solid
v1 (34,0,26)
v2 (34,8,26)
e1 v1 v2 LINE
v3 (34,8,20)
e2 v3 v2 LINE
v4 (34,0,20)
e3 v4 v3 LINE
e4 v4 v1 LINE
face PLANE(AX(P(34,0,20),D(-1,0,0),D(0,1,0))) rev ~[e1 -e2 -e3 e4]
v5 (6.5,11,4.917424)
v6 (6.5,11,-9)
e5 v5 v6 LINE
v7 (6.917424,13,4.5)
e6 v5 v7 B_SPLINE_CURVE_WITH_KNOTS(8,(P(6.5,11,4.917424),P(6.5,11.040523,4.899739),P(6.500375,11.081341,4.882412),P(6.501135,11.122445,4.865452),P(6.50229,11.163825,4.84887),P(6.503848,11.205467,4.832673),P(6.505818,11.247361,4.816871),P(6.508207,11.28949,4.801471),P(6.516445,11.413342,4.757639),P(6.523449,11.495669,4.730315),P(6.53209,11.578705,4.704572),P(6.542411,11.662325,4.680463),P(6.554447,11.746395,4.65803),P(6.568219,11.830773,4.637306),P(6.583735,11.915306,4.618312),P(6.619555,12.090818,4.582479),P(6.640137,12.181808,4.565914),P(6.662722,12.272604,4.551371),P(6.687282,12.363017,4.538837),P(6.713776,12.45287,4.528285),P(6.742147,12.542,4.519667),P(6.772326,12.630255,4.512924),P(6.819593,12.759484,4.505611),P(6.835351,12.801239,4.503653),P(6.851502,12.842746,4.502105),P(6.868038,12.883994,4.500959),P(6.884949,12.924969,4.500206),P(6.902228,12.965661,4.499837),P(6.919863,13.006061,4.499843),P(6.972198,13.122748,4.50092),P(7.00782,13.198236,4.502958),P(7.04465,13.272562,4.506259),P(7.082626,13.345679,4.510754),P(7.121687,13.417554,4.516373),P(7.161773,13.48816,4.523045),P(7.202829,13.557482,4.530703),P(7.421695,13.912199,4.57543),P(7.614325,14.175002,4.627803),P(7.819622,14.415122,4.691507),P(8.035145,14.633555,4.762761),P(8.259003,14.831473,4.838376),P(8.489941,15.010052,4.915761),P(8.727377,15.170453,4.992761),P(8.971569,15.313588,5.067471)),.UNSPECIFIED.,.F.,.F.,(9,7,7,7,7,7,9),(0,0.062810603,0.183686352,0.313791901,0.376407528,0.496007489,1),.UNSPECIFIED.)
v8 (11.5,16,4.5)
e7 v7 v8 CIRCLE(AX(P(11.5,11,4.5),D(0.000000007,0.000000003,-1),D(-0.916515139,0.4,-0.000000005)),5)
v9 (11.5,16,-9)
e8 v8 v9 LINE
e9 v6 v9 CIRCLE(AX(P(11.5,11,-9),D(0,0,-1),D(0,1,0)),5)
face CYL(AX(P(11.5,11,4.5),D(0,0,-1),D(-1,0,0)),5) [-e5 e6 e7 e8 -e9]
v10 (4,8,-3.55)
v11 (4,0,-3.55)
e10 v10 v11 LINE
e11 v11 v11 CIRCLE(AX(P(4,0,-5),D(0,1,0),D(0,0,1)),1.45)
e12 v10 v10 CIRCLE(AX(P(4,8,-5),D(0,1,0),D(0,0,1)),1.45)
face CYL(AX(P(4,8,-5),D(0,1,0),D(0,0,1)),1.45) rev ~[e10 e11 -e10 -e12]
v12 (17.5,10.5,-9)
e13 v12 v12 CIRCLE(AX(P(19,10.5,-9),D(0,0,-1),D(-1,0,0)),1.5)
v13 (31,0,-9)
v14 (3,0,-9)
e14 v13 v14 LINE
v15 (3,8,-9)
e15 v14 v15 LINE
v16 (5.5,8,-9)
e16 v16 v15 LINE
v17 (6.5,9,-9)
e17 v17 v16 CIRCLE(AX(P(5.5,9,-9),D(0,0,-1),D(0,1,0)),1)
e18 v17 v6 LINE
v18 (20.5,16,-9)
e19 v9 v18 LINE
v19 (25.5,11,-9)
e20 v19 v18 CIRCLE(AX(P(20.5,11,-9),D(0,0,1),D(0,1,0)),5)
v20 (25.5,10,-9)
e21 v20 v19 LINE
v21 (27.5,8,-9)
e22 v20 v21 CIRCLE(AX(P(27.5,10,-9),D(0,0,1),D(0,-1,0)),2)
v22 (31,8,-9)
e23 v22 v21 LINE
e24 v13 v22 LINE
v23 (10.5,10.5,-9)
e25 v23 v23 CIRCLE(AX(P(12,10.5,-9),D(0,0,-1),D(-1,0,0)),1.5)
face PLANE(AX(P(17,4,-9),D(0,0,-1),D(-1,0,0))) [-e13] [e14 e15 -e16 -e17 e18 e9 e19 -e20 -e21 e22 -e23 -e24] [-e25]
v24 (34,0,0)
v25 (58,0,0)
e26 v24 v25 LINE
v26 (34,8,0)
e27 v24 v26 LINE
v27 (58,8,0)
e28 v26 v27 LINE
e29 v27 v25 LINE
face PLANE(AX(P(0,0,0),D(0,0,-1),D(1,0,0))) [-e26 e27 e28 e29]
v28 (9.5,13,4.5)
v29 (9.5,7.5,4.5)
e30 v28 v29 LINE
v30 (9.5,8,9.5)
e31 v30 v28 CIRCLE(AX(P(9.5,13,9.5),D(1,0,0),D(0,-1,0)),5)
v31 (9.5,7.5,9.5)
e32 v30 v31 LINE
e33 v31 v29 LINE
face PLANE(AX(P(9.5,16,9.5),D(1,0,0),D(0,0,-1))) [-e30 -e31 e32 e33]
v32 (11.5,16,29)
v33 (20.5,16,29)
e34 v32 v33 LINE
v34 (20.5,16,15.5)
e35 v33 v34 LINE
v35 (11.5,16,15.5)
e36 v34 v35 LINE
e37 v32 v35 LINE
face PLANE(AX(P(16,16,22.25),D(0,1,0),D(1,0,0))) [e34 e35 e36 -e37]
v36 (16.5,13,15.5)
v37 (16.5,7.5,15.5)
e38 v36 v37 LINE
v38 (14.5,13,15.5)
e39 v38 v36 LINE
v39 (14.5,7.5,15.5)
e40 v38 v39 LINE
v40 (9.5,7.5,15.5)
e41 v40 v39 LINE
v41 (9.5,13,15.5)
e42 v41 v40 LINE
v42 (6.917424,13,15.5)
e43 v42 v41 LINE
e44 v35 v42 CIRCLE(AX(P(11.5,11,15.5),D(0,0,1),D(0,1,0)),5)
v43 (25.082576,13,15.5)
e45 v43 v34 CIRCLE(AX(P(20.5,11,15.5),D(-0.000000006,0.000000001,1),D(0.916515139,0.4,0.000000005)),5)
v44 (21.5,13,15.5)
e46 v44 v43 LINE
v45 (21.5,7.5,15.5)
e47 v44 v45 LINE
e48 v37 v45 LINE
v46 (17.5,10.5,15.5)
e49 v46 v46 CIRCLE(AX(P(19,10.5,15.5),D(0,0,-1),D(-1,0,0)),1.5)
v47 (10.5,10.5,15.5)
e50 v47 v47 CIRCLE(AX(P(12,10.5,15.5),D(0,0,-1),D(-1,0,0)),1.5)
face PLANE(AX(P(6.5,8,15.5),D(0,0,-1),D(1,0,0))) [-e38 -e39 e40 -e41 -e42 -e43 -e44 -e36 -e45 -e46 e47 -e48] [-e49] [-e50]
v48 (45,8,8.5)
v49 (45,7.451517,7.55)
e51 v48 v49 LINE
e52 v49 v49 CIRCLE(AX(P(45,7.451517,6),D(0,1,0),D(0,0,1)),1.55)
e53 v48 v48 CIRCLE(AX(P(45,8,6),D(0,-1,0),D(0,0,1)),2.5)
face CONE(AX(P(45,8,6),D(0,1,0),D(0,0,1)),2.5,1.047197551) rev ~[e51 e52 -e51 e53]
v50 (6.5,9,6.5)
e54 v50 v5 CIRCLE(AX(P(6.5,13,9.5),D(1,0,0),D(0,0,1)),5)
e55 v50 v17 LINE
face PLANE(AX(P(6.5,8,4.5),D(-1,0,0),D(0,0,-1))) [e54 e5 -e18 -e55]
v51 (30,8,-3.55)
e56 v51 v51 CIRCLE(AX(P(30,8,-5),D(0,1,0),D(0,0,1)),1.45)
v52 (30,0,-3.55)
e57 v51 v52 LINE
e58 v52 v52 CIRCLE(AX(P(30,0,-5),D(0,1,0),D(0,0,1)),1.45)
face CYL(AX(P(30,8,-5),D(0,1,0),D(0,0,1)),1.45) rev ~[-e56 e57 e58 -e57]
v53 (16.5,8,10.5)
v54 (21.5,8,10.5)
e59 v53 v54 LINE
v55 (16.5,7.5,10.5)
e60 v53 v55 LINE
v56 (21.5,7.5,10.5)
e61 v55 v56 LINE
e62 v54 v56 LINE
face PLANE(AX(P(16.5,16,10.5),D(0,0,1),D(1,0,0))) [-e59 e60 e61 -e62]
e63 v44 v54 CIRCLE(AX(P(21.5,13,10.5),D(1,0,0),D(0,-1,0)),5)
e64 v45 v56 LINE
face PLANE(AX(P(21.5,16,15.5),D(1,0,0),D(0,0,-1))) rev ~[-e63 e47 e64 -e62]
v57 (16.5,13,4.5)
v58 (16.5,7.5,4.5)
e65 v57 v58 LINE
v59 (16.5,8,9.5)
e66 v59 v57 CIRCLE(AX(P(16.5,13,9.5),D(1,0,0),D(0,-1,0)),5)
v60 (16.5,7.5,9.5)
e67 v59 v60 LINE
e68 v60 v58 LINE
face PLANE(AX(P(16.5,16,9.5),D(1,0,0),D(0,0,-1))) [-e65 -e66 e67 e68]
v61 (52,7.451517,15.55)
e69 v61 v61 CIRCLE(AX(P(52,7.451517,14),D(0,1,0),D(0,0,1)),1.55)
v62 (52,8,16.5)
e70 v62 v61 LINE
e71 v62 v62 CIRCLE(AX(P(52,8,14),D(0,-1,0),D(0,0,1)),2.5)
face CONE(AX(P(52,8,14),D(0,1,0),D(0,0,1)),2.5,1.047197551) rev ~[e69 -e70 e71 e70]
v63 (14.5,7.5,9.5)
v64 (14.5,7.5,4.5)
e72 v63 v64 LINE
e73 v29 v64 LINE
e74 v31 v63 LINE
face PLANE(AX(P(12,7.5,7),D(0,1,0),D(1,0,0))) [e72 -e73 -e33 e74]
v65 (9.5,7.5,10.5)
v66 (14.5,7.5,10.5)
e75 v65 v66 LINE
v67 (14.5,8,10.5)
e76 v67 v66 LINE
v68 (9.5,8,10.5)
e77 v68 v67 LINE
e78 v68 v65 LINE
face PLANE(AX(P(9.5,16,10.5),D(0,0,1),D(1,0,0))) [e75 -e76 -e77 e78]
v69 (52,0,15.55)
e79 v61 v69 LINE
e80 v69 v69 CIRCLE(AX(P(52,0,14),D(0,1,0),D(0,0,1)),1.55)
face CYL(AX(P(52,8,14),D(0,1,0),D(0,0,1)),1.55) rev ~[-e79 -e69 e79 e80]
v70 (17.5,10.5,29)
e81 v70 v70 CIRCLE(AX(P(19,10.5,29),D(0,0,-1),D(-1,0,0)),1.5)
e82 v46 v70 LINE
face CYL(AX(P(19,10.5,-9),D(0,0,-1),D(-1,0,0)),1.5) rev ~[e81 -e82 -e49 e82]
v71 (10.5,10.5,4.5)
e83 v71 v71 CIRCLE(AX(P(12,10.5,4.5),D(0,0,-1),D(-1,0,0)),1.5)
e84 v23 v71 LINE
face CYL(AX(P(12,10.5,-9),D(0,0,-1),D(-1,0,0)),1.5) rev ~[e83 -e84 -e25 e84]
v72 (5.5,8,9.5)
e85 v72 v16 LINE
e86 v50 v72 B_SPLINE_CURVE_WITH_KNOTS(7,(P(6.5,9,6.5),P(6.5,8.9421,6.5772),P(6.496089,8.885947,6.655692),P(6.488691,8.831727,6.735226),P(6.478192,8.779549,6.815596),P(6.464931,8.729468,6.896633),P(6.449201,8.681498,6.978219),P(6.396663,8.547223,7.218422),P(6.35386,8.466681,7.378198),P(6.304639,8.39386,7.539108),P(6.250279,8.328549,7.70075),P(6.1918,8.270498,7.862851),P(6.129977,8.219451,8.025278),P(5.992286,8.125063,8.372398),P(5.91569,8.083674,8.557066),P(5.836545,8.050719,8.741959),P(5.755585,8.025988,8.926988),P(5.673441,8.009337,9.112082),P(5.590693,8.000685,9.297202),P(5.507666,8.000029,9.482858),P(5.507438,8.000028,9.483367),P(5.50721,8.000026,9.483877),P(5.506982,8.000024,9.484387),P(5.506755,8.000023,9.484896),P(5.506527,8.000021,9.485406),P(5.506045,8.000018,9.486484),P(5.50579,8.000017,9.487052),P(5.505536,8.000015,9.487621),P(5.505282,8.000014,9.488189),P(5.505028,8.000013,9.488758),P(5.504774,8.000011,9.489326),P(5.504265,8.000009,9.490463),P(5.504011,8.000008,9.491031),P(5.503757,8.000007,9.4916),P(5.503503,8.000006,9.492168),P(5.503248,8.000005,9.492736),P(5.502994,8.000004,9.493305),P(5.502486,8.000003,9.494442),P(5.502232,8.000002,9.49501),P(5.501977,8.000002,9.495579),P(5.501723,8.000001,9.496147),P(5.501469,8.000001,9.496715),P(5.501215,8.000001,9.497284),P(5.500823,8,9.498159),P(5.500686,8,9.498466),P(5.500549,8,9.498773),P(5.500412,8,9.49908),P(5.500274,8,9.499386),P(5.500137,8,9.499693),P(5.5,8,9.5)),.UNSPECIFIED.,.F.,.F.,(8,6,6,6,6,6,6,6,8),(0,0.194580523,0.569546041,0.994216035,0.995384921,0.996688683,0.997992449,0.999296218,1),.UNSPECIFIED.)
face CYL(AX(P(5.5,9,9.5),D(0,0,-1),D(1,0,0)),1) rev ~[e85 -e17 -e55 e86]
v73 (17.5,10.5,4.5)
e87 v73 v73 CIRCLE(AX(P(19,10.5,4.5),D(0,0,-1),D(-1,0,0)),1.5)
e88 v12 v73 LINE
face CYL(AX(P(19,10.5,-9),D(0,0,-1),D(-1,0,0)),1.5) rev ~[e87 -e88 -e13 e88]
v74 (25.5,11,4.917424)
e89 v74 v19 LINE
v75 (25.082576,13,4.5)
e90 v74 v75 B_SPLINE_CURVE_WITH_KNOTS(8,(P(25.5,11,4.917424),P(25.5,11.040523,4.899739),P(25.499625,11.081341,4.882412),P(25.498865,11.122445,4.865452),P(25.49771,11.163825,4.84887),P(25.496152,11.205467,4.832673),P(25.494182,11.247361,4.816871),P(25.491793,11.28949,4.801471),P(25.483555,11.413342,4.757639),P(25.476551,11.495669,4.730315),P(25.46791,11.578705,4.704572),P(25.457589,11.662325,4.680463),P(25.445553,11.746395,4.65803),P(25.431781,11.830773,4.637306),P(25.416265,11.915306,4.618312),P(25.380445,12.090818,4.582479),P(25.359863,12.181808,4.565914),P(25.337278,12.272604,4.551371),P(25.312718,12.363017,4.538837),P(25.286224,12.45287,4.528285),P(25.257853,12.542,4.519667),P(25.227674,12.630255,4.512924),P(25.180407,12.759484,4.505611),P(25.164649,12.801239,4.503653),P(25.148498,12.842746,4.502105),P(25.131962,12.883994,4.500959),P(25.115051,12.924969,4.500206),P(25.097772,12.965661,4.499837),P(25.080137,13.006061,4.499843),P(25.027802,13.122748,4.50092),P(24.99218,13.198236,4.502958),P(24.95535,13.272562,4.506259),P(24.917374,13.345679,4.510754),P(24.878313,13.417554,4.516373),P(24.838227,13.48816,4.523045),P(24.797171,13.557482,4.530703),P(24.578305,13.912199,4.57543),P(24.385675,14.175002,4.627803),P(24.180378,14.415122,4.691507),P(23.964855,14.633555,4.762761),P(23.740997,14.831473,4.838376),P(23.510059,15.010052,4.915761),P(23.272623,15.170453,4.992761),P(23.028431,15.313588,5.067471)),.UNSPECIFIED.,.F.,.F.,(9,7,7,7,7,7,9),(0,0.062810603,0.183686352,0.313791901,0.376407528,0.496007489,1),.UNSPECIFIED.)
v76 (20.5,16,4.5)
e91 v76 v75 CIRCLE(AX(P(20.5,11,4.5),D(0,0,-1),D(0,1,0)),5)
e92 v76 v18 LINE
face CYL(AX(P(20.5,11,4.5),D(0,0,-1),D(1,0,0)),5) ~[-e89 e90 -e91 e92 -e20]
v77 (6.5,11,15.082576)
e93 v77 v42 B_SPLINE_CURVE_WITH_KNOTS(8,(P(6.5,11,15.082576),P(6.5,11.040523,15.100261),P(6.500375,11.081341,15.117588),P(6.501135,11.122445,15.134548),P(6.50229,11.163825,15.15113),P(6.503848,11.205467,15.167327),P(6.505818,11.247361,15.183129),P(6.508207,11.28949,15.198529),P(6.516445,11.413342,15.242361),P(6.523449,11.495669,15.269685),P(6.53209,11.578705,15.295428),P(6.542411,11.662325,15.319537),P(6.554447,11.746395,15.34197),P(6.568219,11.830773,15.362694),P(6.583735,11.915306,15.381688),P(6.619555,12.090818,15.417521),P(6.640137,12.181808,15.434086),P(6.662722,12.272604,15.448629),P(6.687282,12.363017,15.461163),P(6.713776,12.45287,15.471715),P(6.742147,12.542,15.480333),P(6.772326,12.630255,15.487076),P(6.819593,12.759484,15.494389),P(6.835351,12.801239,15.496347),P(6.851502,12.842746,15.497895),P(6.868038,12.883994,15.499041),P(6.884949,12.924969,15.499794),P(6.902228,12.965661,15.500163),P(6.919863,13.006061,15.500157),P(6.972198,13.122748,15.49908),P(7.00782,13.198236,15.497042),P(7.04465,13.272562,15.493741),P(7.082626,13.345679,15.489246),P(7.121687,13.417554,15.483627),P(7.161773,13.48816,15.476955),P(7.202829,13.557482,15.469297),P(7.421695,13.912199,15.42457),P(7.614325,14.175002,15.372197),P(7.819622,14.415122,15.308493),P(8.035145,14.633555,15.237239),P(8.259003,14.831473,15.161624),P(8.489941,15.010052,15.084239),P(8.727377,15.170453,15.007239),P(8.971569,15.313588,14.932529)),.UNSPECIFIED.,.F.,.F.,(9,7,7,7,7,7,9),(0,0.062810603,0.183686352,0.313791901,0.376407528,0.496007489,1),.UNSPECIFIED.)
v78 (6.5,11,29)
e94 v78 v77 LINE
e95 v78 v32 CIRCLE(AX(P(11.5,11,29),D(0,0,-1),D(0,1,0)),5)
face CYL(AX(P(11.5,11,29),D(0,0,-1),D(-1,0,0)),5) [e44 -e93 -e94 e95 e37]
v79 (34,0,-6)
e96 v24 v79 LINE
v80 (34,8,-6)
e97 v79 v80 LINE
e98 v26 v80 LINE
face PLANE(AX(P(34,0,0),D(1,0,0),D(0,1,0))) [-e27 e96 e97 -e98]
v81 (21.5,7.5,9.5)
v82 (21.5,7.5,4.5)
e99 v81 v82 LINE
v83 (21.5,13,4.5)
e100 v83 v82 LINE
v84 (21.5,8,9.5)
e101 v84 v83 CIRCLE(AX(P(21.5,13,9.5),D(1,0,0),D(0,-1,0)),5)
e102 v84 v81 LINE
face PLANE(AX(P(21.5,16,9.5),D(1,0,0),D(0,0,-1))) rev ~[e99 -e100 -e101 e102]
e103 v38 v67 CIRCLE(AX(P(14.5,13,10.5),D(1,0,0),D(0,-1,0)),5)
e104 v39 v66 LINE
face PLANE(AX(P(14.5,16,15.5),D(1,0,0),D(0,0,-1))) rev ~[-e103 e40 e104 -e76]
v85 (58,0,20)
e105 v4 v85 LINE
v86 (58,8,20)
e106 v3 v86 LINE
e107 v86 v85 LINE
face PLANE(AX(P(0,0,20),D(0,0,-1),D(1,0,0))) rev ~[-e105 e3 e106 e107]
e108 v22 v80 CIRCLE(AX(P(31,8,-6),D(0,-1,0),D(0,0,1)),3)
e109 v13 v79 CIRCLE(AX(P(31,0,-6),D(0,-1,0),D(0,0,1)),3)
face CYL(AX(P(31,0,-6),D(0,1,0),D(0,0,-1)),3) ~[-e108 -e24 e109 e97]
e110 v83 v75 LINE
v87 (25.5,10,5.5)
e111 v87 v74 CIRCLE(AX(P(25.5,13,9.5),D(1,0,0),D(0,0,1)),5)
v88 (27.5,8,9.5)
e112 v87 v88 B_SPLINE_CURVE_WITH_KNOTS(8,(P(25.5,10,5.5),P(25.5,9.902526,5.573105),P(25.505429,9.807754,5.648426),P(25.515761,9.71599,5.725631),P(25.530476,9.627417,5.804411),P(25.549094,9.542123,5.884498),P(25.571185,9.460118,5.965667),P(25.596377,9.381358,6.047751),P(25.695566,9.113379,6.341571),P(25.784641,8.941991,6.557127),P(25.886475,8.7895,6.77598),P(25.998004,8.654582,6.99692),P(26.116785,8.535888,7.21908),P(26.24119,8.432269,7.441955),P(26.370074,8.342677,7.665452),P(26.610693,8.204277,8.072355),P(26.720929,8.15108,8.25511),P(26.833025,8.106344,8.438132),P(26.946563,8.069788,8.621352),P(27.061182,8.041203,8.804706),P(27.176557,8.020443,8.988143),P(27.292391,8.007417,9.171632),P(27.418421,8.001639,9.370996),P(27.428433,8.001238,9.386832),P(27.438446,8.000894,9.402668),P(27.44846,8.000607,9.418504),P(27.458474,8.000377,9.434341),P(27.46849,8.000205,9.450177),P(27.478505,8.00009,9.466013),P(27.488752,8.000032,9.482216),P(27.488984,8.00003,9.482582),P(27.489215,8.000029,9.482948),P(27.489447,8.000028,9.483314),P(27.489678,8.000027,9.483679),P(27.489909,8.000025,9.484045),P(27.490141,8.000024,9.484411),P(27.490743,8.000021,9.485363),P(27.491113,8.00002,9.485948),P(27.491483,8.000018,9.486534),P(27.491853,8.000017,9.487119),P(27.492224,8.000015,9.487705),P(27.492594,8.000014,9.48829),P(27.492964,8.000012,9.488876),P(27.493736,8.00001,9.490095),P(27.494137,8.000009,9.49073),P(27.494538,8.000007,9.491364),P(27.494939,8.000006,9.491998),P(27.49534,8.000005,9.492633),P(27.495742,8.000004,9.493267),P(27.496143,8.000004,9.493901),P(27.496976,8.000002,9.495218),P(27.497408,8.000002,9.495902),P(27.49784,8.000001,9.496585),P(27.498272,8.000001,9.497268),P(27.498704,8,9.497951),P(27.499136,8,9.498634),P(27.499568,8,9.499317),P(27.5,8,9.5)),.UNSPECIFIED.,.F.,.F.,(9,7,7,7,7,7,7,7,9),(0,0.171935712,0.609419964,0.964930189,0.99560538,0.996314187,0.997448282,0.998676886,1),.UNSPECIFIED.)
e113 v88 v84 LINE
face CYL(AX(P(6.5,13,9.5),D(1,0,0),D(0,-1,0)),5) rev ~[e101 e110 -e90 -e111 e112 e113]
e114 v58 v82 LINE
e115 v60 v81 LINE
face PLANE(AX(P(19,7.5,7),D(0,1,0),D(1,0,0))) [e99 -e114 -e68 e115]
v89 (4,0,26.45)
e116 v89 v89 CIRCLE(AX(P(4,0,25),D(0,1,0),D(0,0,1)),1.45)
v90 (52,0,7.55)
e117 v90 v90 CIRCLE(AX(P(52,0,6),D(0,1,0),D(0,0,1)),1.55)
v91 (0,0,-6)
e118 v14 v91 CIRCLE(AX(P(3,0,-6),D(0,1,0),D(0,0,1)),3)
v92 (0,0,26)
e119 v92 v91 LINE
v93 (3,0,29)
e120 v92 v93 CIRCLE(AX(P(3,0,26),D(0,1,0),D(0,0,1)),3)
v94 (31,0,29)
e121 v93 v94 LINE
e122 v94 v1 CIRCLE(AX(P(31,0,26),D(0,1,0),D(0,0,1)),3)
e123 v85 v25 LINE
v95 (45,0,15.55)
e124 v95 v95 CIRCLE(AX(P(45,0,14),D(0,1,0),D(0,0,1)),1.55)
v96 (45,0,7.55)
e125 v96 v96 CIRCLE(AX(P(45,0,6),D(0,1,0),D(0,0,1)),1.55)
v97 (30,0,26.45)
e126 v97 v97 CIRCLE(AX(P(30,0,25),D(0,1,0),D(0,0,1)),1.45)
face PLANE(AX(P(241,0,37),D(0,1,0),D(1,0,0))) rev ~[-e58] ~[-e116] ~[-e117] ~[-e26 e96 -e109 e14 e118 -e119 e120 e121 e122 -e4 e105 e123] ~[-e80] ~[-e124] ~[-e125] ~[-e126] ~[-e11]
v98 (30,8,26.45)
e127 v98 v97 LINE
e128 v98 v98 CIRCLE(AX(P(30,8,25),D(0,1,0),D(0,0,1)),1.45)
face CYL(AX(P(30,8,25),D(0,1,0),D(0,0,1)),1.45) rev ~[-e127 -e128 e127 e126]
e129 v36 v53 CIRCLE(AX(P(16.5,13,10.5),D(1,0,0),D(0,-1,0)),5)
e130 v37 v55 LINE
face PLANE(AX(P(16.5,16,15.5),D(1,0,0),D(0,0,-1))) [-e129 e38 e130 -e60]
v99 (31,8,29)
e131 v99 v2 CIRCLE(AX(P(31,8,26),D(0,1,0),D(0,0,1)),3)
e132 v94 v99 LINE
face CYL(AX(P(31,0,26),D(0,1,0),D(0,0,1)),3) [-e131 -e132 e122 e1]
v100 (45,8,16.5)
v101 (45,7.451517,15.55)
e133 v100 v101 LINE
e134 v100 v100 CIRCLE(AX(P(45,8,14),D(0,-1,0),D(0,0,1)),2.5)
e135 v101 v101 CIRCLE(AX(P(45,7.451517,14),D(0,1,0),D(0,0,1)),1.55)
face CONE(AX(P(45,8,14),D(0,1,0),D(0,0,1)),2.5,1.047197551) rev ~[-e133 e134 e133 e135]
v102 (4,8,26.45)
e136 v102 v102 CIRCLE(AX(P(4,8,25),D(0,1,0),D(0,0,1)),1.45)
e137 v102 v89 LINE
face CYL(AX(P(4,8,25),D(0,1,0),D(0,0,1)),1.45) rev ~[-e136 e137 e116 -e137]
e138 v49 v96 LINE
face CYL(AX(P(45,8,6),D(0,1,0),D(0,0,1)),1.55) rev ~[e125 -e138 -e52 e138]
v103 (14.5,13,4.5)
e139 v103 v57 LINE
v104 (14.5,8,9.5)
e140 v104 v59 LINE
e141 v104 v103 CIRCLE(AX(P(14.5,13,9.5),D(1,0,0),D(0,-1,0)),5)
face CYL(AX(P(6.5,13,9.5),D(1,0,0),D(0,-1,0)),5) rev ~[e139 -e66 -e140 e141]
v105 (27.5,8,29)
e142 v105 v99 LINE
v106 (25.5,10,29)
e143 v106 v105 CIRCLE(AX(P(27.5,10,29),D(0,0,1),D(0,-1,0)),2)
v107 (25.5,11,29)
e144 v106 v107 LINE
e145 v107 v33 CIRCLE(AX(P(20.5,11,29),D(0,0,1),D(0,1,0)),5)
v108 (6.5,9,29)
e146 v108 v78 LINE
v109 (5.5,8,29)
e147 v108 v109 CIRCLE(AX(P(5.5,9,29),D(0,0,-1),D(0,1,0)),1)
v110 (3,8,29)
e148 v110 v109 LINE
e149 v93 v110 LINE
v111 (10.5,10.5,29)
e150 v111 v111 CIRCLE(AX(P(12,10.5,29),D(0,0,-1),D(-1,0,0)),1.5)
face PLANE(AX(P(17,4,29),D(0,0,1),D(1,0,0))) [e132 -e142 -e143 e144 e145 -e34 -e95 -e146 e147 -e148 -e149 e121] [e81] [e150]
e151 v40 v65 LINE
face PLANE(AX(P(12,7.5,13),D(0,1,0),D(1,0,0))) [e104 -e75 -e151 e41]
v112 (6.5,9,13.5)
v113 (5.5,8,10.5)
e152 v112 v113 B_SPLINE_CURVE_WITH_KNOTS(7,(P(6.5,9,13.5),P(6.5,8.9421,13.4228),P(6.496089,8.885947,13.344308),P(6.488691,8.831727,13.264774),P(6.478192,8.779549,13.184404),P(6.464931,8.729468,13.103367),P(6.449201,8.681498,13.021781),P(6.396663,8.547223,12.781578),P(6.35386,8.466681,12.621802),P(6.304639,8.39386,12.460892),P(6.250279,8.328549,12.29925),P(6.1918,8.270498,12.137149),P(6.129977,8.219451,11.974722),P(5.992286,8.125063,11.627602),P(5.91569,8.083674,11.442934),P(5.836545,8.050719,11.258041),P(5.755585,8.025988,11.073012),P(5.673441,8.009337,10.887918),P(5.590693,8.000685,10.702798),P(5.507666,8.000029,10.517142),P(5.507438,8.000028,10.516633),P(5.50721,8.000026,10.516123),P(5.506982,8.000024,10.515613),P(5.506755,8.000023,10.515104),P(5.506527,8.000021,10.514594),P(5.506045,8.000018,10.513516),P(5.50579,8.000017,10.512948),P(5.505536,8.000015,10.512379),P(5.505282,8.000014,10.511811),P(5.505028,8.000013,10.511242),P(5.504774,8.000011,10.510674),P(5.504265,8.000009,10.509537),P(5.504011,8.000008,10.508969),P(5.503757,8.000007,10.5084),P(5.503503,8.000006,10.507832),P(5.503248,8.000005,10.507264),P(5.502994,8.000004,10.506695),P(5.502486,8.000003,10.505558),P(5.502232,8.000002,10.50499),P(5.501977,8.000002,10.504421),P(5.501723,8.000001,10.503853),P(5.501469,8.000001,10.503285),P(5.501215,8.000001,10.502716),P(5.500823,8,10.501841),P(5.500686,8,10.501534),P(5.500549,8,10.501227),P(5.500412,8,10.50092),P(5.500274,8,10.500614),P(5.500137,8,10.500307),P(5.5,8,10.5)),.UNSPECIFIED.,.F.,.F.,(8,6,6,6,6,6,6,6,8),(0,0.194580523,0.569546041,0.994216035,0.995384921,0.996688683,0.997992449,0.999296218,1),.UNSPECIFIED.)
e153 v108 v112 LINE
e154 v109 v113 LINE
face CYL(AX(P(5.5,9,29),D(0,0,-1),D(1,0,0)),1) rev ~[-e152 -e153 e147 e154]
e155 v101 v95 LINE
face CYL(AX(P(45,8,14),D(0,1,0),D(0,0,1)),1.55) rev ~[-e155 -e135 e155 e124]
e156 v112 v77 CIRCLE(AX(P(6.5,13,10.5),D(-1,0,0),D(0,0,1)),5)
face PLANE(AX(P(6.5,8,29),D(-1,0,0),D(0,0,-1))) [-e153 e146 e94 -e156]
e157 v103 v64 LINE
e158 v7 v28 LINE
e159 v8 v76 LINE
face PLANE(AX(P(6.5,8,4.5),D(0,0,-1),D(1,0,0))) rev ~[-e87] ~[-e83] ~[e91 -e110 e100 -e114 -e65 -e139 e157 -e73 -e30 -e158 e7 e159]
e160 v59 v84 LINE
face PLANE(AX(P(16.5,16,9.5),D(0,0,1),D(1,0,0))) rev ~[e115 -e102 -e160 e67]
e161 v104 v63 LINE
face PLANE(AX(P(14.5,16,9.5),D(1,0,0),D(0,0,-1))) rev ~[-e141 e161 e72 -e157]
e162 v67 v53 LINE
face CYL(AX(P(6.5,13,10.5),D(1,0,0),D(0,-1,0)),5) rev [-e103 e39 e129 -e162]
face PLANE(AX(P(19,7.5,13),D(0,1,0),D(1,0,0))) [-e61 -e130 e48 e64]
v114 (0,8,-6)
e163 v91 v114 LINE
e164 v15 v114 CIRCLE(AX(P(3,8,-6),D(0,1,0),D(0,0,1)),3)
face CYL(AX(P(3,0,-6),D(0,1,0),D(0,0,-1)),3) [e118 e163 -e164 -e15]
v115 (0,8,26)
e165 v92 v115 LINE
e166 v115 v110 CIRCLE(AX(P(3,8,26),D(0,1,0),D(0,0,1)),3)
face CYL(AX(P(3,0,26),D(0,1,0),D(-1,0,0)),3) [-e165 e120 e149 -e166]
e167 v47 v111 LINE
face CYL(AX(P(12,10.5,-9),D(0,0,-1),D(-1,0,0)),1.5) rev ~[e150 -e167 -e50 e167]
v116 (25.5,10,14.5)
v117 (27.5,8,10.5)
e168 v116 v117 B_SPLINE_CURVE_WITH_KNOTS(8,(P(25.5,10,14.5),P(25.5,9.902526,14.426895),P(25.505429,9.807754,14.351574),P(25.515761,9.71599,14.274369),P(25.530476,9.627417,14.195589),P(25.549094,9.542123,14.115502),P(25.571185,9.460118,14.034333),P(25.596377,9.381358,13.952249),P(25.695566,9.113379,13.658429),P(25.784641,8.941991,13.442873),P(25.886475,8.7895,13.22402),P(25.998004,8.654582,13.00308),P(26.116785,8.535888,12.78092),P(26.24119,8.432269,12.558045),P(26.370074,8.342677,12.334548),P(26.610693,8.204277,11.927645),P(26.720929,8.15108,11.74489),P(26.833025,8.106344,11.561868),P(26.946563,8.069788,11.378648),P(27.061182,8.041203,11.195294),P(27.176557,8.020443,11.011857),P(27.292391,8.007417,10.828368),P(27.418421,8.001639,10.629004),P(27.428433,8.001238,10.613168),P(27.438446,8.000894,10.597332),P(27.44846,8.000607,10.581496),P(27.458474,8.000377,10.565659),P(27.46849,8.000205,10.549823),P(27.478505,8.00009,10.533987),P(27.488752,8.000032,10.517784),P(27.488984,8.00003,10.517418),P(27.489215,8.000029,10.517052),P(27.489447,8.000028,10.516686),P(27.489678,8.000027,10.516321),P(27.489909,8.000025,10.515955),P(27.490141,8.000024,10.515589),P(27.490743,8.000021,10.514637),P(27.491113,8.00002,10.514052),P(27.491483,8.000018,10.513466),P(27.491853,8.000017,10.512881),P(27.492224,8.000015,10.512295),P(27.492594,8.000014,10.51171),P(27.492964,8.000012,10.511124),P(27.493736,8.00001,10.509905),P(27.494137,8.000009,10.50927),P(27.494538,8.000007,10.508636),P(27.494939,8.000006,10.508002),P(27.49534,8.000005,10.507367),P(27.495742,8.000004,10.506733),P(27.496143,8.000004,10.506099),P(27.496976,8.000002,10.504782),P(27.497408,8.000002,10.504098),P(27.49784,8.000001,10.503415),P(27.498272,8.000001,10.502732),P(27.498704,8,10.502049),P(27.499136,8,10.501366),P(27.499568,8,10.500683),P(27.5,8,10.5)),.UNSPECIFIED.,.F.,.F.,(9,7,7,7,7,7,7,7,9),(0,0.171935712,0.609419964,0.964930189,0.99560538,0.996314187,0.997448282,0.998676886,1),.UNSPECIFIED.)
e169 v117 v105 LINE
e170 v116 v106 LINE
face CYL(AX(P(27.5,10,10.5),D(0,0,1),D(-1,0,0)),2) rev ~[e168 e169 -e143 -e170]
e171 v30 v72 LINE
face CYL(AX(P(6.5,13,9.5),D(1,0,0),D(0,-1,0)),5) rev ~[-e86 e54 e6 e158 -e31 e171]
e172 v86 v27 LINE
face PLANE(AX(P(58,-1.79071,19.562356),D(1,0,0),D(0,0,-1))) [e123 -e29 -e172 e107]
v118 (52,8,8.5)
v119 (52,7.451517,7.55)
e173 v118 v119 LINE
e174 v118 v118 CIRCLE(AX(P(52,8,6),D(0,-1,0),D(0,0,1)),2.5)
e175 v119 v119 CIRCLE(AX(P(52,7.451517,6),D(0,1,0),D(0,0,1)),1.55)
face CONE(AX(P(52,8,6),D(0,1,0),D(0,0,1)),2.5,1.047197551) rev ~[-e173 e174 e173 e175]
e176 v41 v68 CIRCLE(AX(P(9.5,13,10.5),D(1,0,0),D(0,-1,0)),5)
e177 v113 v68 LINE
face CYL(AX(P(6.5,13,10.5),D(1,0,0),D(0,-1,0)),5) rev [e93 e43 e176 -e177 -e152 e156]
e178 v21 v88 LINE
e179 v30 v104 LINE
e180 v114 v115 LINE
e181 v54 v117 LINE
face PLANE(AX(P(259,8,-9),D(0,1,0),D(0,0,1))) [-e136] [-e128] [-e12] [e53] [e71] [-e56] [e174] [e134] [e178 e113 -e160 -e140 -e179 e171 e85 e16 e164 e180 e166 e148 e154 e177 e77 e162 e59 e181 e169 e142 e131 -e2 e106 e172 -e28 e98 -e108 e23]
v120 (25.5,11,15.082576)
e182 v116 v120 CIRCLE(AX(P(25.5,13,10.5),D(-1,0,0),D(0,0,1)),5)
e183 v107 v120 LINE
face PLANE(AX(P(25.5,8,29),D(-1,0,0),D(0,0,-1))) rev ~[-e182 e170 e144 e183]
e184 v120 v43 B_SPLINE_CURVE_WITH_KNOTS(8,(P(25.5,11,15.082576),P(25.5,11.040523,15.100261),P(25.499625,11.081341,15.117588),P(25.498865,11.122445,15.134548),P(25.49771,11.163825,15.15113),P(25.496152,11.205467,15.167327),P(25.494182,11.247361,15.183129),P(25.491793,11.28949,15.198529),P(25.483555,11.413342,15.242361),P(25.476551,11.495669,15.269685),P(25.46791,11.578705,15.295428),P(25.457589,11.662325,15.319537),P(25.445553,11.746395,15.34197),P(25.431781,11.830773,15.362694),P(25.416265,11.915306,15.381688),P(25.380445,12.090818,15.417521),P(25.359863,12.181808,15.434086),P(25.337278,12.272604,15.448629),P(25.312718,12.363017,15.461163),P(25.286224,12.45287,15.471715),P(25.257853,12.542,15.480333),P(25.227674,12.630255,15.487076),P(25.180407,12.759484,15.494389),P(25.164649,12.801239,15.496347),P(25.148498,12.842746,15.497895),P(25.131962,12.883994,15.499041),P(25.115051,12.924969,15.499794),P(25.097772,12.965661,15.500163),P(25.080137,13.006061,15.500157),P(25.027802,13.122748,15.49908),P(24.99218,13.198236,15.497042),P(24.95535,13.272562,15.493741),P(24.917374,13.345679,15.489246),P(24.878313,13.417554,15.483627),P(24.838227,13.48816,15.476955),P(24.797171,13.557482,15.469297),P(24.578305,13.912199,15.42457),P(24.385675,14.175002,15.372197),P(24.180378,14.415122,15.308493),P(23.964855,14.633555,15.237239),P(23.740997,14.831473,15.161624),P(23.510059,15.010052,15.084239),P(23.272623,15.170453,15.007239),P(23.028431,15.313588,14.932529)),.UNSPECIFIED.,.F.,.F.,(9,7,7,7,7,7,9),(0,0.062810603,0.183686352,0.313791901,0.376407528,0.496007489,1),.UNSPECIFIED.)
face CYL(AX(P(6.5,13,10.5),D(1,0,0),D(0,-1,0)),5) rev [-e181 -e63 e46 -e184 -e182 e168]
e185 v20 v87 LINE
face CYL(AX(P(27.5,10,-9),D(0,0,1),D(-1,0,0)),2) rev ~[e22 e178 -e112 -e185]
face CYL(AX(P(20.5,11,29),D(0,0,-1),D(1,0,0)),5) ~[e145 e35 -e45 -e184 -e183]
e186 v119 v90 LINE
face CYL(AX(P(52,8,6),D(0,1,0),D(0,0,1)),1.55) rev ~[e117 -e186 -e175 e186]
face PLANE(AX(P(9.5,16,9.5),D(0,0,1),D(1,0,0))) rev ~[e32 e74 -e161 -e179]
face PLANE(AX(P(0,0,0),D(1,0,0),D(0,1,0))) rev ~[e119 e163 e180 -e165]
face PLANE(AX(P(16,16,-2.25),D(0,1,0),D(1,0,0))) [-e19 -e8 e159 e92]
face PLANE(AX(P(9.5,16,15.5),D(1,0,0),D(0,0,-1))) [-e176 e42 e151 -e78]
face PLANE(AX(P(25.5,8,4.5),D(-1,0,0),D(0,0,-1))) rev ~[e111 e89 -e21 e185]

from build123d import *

# Parameters (mm, degrees)
SKETCH1_W                 = 300
SKETCH1_H                 = 20
BOSS_EXTRUDE1_DEPTH       = 8
SKETCH2_W                 = 34
SKETCH2_H                 = 8
BOSS_EXTRUDE2_DEPTH       = 9
SKETCH3_W                 = 34
SKETCH3_H                 = 8
BOSS_EXTRUDE3_DEPTH       = 9
SKETCH4_R                 = 1.45
CUT_EXTRUDE1_DEPTH        = 302.504560496
SKETCH5_W                 = 25
SKETCH5_H                 = 8
BOSS_EXTRUDE4_DEPTH       = 17
SKETCH6_W                 = 25
SKETCH6_H                 = 8
BOSS_EXTRUDE5_DEPTH       = 17
SKETCH12_W                = 8
SKETCH12_H                = 8
BOSS_EXTRUDE7_DEPTH       = 17
BOSS_EXTRUDE8_DEPTH       = 12
SKETCH15_R                = 1.6
CUT_EXTRUDE7_DEPTH        = 20
SKETCH16_W                = 20
SKETCH16_H                = 13
BOSS_EXTRUDE9_DEPTH       = 12
SKETCH17_R                = 1.6
CUT_EXTRUDE8_DEPTH        = 20
SKETCH22_W                = 10
SKETCH22_H                = 38
CUT_EXTRUDE11_DEPTH       = 306.0983448
SKETCH23_W                = 8
SKETCH23_H                = 18
CUT_EXTRUDE12_DEPTH       = 4
BOSS_EXTRUDE12_DEPTH      = 10
BOSS_EXTRUDE13_DEPTH      = 8
SKETCH26_W                = 8
SKETCH26_H                = 48
BOSS_EXTRUDE14_DEPTH      = 14
SKETCH27_W                = 8
SKETCH27_H                = 16
BOSS_EXTRUDE15_DEPTH      = 14
SKETCH28_W                = 8
SKETCH28_H                = 40
CUT_EXTRUDE13_DEPTH       = 14
SKETCH30_W                = 16
SKETCH30_H                = 14
BOSS_EXTRUDE16_DEPTH      = 9
SKETCH31_W                = 17
SKETCH31_H                = 8
CUT_EXTRUDE14_DEPTH       = 5
SKETCH32_W                = 16
SKETCH32_H                = 9
CUT_EXTRUDE15_DEPTH       = 9
CUT_EXTRUDE16_DEPTH       = 10
SKETCH34_W                = 7
SKETCH34_H                = 5
CUT_EXTRUDE17_DEPTH       = 5
SKETCH35_W                = 7
SKETCH35_H                = 5
BOSS_EXTRUDE17_DEPTH      = 5
SKETCH36_R                = 1.7
CUT_EXTRUDE18_DEPTH       = 307.014705529
SKETCH37_W                = 70
SKETCH37_H                = 8
BOSS_EXTRUDE18_DEPTH      = 5
SKETCH39_W                = 66
SKETCH39_H                = 6
CUT_EXTRUDE19_DEPTH       = 306.14258962
SKETCH46_W                = 20
SKETCH46_H                = 12
SKETCH46_W_2              = 19.974984355
BOSS_EXTRUDE23_DEPTH      = 10
BOSS_EXTRUDE24_DEPTH      = 5
BOSS_EXTRUDE24_DEPTH_BACK = 5
SKETCH47_W                = 28
SKETCH47_H                = 12
SKETCH47_W_2              = 28.025015645
SKETCH48_R                = 1.5
CUT_EXTRUDE22_DEPTH       = 15
SKETCH49_R                = 1.45
CUT_EXTRUDE23_DEPTH       = 309.139578763
SKETCH50_W                = 96.54170444
SKETCH50_H                = 99.159492098
CUT_EXTRUDE24_DEPTH       = 245
SKETCH51_R                = 1.55
CUT_EXTRUDE25_DEPTH       = 66.337584896
SKETCH52_W                = 19
SKETCH52_H                = 13.5
BOSS_EXTRUDE25_DEPTH      = 8
FILLET1_R                 = 5
SKETCH53_R                = 1.5
CUT_EXTRUDE26_DEPTH       = 72.161787499
FILLET2_R                 = 5
FILLET3_R                 = 3
SKETCH54_W                = 5
SKETCH54_H                = 5
CUT_EXTRUDE27_DEPTH       = 8.5
FILLET4_R                 = 1
FILLET5_R                 = 2


with BuildPart() as part:
    # Sketch1 → Boss-Extrude1 (new body)
    with BuildSketch(Plane(origin=(0, 0, 0), x_dir=(1, 0, 0), z_dir=(0, 1, 0))):
        with Locations((150, -10)):
            Rectangle(SKETCH1_W, SKETCH1_H)
    extrude(amount=BOSS_EXTRUDE1_DEPTH)

    # Sketch2 → Boss-Extrude2 (add)
    with BuildSketch(Plane.XY.offset(20)):
        with Locations((17, 4)):
            Rectangle(SKETCH2_W, SKETCH2_H)
        with Locations((283, 4)):
            Rectangle(SKETCH2_W, SKETCH2_H)
    extrude(amount=BOSS_EXTRUDE2_DEPTH)

    # Sketch3 → Boss-Extrude3 (add)
    with BuildSketch(Plane(origin=(0, 0, 0), x_dir=(-1, 0, 0), z_dir=(0, 0, -1))):
        with Locations((-17, 4)):
            Rectangle(SKETCH3_W, SKETCH3_H)
        with Locations((-283, 4)):
            Rectangle(SKETCH3_W, SKETCH3_H)
    extrude(amount=BOSS_EXTRUDE3_DEPTH)

    # Sketch4 → Cut-Extrude1 (cut, through all)
    with BuildSketch(Plane(origin=(0, 8, 0), x_dir=(1, 0, 0), z_dir=(0, 1, 0))):
        with Locations(Location((4, 5, 0), (0, 0, 270))):
            Circle(SKETCH4_R)
        with Locations(Location((30, 5, 0), (0, 0, 270))):
            Circle(SKETCH4_R)
        with Locations(Location((30, -25, 0), (0, 0, 270))):
            Circle(SKETCH4_R)
        with Locations(Location((4, -25, 0), (0, 0, 270))):
            Circle(SKETCH4_R)
        with Locations(Location((296, -25, 0), (0, 0, 270))):
            Circle(SKETCH4_R)
        with Locations(Location((296, 5, 0), (0, 0, 270))):
            Circle(SKETCH4_R)
        with Locations(Location((270, -25, 0), (0, 0, 270))):
            Circle(SKETCH4_R)
        with Locations(Location((270, 5, 0), (0, 0, 270))):
            Circle(SKETCH4_R)
    extrude(amount=-CUT_EXTRUDE1_DEPTH, mode=Mode.SUBTRACT)

    # Sketch5 → Boss-Extrude4 (add)
    with BuildSketch(Plane.XY.offset(20)):
        with Locations((253.5, 4)):
            Rectangle(SKETCH5_W, SKETCH5_H)
    extrude(amount=BOSS_EXTRUDE4_DEPTH)

    # Sketch6 → Boss-Extrude5 (add)
    with BuildSketch(Plane(origin=(0, 0, 0), x_dir=(-1, 0, 0), z_dir=(0, 0, -1))):
        with Locations((-253.5, 4)):
            Rectangle(SKETCH6_W, SKETCH6_H)
    extrude(amount=BOSS_EXTRUDE5_DEPTH)

    # Sketch12 → Boss-Extrude7 (add)
    with BuildSketch(Plane.XY.offset(37)):
        with Locations((245, 4)):
            Rectangle(SKETCH12_W, SKETCH12_H)
    extrude(amount=BOSS_EXTRUDE7_DEPTH)

    # Sketch14 → Boss-Extrude8 (add)
    with BuildSketch(Plane.XY.offset(29)):
        Polygon((294.974984355, 8), (275, 8), (275, -4), (294.974984355, -5), align=None)
    extrude(amount=BOSS_EXTRUDE8_DEPTH)

    # Sketch15 → Cut-Extrude7 (cut)
    with BuildSketch(Plane(origin=(294.974984355, 0, 0), x_dir=(0, 0, -1), z_dir=(1, 0, 0))):
        with Locations((-35, 0)):
            Circle(SKETCH15_R)
    extrude(amount=-CUT_EXTRUDE7_DEPTH, mode=Mode.SUBTRACT)

    # Sketch16 → Boss-Extrude9 (add)
    with BuildSketch(Plane(origin=(0, 0, -9), x_dir=(-1, 0, 0), z_dir=(0, 0, -1))):
        with Locations((-285, 1.5)):
            Rectangle(SKETCH16_W, SKETCH16_H)
    extrude(amount=BOSS_EXTRUDE9_DEPTH)

    # Sketch17 → Cut-Extrude8 (cut)
    with BuildSketch(Plane(origin=(295, 0, 0), x_dir=(0, 0, -1), z_dir=(1, 0, 0))):
        with Locations((15, 0)):
            Circle(SKETCH17_R)
    extrude(amount=-CUT_EXTRUDE8_DEPTH, mode=Mode.SUBTRACT)

    # Sketch22 → Cut-Extrude11 (cut, through all)
    with BuildSketch(Plane(origin=(0, 8, 0), x_dir=(1, 0, 0), z_dir=(0, 1, 0))):
        with Locations((254, -10)):
            Rectangle(SKETCH22_W, SKETCH22_H)
    extrude(amount=-CUT_EXTRUDE11_DEPTH, mode=Mode.SUBTRACT)

    # Sketch23 → Cut-Extrude12 (cut)
    with BuildSketch(Plane(origin=(0, 0, 0), x_dir=(-1, 0, 0), z_dir=(0, -1, 0))):
        with Locations((-263, -10)):
            Rectangle(SKETCH23_W, SKETCH23_H)
    extrude(amount=-CUT_EXTRUDE12_DEPTH, mode=Mode.SUBTRACT)

    # Sketch24 → Boss-Extrude12 (add)
    with BuildSketch(Plane.ZY.offset(-259)):
        Polygon((-9, 0), (-9, 8), (-1, 8), align=None)
        Polygon((29, 0), (29, 8), (21, 8), align=None)
    extrude(amount=BOSS_EXTRUDE12_DEPTH)

    # Sketch25 → Boss-Extrude13 (add)
    with BuildSketch(Plane.ZY.offset(-267)):
        Polygon((19, 0), (19, 4), (15, 4), align=None)
        Polygon((1, 4), (5, 4), (1, 0), align=None)
    extrude(amount=BOSS_EXTRUDE13_DEPTH)

    # Sketch26 → Boss-Extrude14 (add)
    with BuildSketch(Plane(origin=(0, 8, 0), x_dir=(1, 0, 0), z_dir=(0, 1, 0))):
        with Locations((245, -30)):
            Rectangle(SKETCH26_W, SKETCH26_H)
    extrude(amount=BOSS_EXTRUDE14_DEPTH)

    # Sketch27 → Boss-Extrude15 (add)
    with BuildSketch(Plane(origin=(0, 8, 0), x_dir=(1, 0, 0), z_dir=(0, 1, 0))):
        with Locations((253, -29)):
            Rectangle(SKETCH27_W, SKETCH27_H)
    extrude(amount=BOSS_EXTRUDE15_DEPTH)

    # Sketch28 → Cut-Extrude13 (cut)
    with BuildSketch(Plane.XZ):
        with Locations((245, 34)):
            Rectangle(SKETCH28_W, SKETCH28_H)
    extrude(amount=-CUT_EXTRUDE13_DEPTH, mode=Mode.SUBTRACT)

    # Sketch30 → Boss-Extrude16 (add)
    with BuildSketch(Plane(origin=(257, 0, 0), x_dir=(0, 0, -1), z_dir=(1, 0, 0))):
        with Locations((-29, 15)):
            Rectangle(SKETCH30_W, SKETCH30_H)
    extrude(amount=BOSS_EXTRUDE16_DEPTH)

    # Sketch31 → Cut-Extrude14 (cut)
    with BuildSketch(Plane(origin=(0, 0, 0), x_dir=(-1, 0, 0), z_dir=(0, -1, 0))):
        with Locations((-257.5, -33)):
            Rectangle(SKETCH31_W, SKETCH31_H)
    extrude(amount=-CUT_EXTRUDE14_DEPTH, mode=Mode.SUBTRACT)

    # Sketch32 → Cut-Extrude15 (cut)
    with BuildSketch(Plane(origin=(266, 0, 0), x_dir=(0, 0, -1), z_dir=(1, 0, 0))):
        with Locations((-29, 17.5)):
            Rectangle(SKETCH32_W, SKETCH32_H)
    extrude(amount=-CUT_EXTRUDE15_DEPTH, mode=Mode.SUBTRACT)

    # Sketch33 → Cut-Extrude16 (cut)
    with BuildSketch(Plane.ZY.offset(-249)):
        Polygon((29, 5), (24, 5), (29, 0), align=None)
    extrude(amount=-CUT_EXTRUDE16_DEPTH, mode=Mode.SUBTRACT)

    # Sketch34 → Cut-Extrude17 (cut)
    with BuildSketch(Plane.XY.offset(29)):
        with Locations((262.5, 2.5)):
            Rectangle(SKETCH34_W, SKETCH34_H)
    extrude(amount=-CUT_EXTRUDE17_DEPTH, mode=Mode.SUBTRACT)

    # Sketch35 → Boss-Extrude17 (add)
    with BuildSketch(Plane(origin=(0, 0, 21), x_dir=(-1, 0, 0), z_dir=(0, 0, -1))):
        with Locations((-262.5, 10.5)):
            Rectangle(SKETCH35_W, SKETCH35_H)
    extrude(amount=BOSS_EXTRUDE17_DEPTH)

    # Sketch36 → Cut-Extrude18 (cut, through all)
    with BuildSketch(Plane(origin=(0, 22, 0), x_dir=(1, 0, 0), z_dir=(0, 1, 0))):
        with Locations(Location((245, -50, 0), (0, 0, 270))):
            Circle(SKETCH36_R)
        with Locations(Location((245, -18, 0), (0, 0, 270))):
            Circle(SKETCH36_R)
    extrude(amount=-CUT_EXTRUDE18_DEPTH, mode=Mode.SUBTRACT)

    # Sketch37 → Boss-Extrude18 (add)
    with BuildSketch(Plane(origin=(0, 8, 0), x_dir=(1, 0, 0), z_dir=(0, 1, 0))):
        with Locations((206, -10)):
            Rectangle(SKETCH37_W, SKETCH37_H)
    extrude(amount=BOSS_EXTRUDE18_DEPTH)

    # Sketch39 → Cut-Extrude19 (cut, through all)
    with BuildSketch(Plane(origin=(0, 8, 0), x_dir=(1, 0, 0), z_dir=(0, 1, 0))):
        with Locations((208, -17)):
            Rectangle(SKETCH39_W, SKETCH39_H)
    extrude(amount=-CUT_EXTRUDE19_DEPTH, mode=Mode.SUBTRACT)

    # Sketch46 → Boss-Extrude23 (add)
    with BuildSketch(Plane(origin=(0, 8, 0), x_dir=(1, 0, 0), z_dir=(0, 1, 0))):
        with Locations((285, 15)):
            Rectangle(SKETCH46_W, SKETCH46_H)
        with Locations((284.987492178, -35)):
            Rectangle(SKETCH46_W_2, SKETCH46_H)
    extrude(amount=BOSS_EXTRUDE23_DEPTH)

    # Sketch47 → Boss-Extrude24 (add, two sides: drawn at the far end of the back side and taken through both)
    with BuildSketch(Plane(origin=(0, 18, 0), x_dir=(1, 0, 0), z_dir=(0, 1, 0)).offset(-BOSS_EXTRUDE24_DEPTH_BACK)):
        with Locations((289, 15)):
            Rectangle(SKETCH47_W, SKETCH47_H)
        with Locations((288.987492178, -35)):
            Rectangle(SKETCH47_W_2, SKETCH47_H)
    extrude(amount=BOSS_EXTRUDE24_DEPTH + BOSS_EXTRUDE24_DEPTH_BACK)

    # Sketch48 → Cut-Extrude22 (cut)
    with BuildSketch(Plane(origin=(303, 0, 0), x_dir=(0, 0, -1), z_dir=(1, 0, 0))):
        with Locations((16, 18)):
            Circle(SKETCH48_R)
        with Locations((-36, 18)):
            Circle(SKETCH48_R)
    extrude(amount=-CUT_EXTRUDE22_DEPTH, mode=Mode.SUBTRACT)

    # Sketch49 → Cut-Extrude23 (cut, through all)
    with BuildSketch(Plane(origin=(0, 8, 0), x_dir=(1, 0, 0), z_dir=(0, 1, 0))):
        with Locations(Location((78, -8, 0), (0, 0, 270))):
            Circle(SKETCH49_R)
        with Locations(Location((78, -12, 0), (0, 0, 270))):
            Circle(SKETCH49_R)
    extrude(amount=-CUT_EXTRUDE23_DEPTH, mode=Mode.SUBTRACT)

    # Sketch50 → Cut-Extrude24 (cut)
    with BuildSketch(Plane(origin=(303, 0, 0), x_dir=(0, 0, -1), z_dir=(1, 0, 0))):
        with Locations((-19.562356109, -1.790710069)):
            Rectangle(SKETCH50_W, SKETCH50_H)
    extrude(amount=-CUT_EXTRUDE24_DEPTH, mode=Mode.SUBTRACT)

    # Sketch51 → Cut-Extrude25 (cut, through all)
    with BuildSketch(Plane(origin=(0, 8, 0), x_dir=(1, 0, 0), z_dir=(0, 1, 0))):
        with Locations(Location((52, -14, 0), (0, 0, 270))):
            Circle(SKETCH51_R)
        with Locations(Location((45, -14, 0), (0, 0, 270))):
            Circle(SKETCH51_R)
        with Locations(Location((45, -6, 0), (0, 0, 270))):
            Circle(SKETCH51_R)
        with Locations(Location((52, -6, 0), (0, 0, 270))):
            Circle(SKETCH51_R)
    extrude(amount=-CUT_EXTRUDE25_DEPTH, mode=Mode.SUBTRACT)

    # Sketch52 → Boss-Extrude25 (add)
    with BuildSketch(Plane(origin=(0, 8, 0), x_dir=(1, 0, 0), z_dir=(0, 1, 0))):
        with Locations((16, 2.25)):
            Rectangle(SKETCH52_W, SKETCH52_H)
        with Locations((16, -22.25)):
            Rectangle(SKETCH52_W, SKETCH52_H)
    extrude(amount=BOSS_EXTRUDE25_DEPTH)

    # Fillet1
    fillet1_edges = [part.edges().sort_by_distance(p)[0] for p in [
        (16, 8, 4.5),
        (16, 8, 15.5),
    ]]
    fillet(fillet1_edges, radius=FILLET1_R)

    # Sketch53 → Cut-Extrude26 (cut, through all)
    with BuildSketch(Plane(origin=(0, 0, -9), x_dir=(-1, 0, 0), z_dir=(0, 0, -1))):
        with Locations((-19, 10.5)):
            Circle(SKETCH53_R)
        with Locations((-12, 10.5)):
            Circle(SKETCH53_R)
    extrude(amount=-CUT_EXTRUDE26_DEPTH, mode=Mode.SUBTRACT)

    # Fillet2
    fillet2_edges = [part.edges().sort_by_distance(p)[0] for p in [
        (25.5, 16, 22.25),
        (6.5, 16, 22.25),
        (6.5, 16, -2.25),
        (25.5, 16, -2.25),
    ]]
    fillet(fillet2_edges, radius=FILLET2_R)

    # Fillet3
    fillet3_edges = [part.edges().sort_by_distance(p)[0] for p in [
        (0, 4, 29),
        (34, 4, 29),
        (0, 4, -9),
        (34, 4, -9),
    ]]
    fillet(fillet3_edges, radius=FILLET3_R)

    # Sketch54 → Cut-Extrude27 (cut)
    with BuildSketch(Plane(origin=(0, 16, 0), x_dir=(1, 0, 0), z_dir=(0, 1, 0))):
        with Locations((19, -7)):
            Rectangle(SKETCH54_W, SKETCH54_H)
        with Locations((12, -7)):
            Rectangle(SKETCH54_W, SKETCH54_H)
        with Locations((19, -13)):
            Rectangle(SKETCH54_W, SKETCH54_H)
        with Locations((12, -13)):
            Rectangle(SKETCH54_W, SKETCH54_H)
    extrude(amount=-CUT_EXTRUDE27_DEPTH, mode=Mode.SUBTRACT)

    # Fillet4
    fillet4_edges = [part.edges().sort_by_distance(p)[0] for p in [
        (6.5, 8, 0.25),
        (6.5, 8, 19.75),
    ]]
    fillet(fillet4_edges, radius=FILLET4_R)

    # Fillet5
    fillet5_edges = [part.edges().sort_by_distance(p)[0] for p in [
        (25.5, 8, 0.25),
        (25.5, 8, 19.75),
    ]]
    fillet(fillet5_edges, radius=FILLET5_R)

    # Cut-Extrude28 cone 1 section (through the dimple's axis) → Cut-Extrude28 (revolve, cut)
    with BuildSketch(Plane(origin=(45, 8, 6), x_dir=(0, 0, 1), z_dir=(1, 0, 0))):
        Polygon((0, 0), (2.5, 0), (0, 1.443375673), align=None)
    revolve(axis=Axis((45, 8, 6), (0, -1, 0)), mode=Mode.SUBTRACT)

    # Cut-Extrude28 cone 2 section (through the dimple's axis) → Cut-Extrude28 cone 2 (revolve, cut)
    with BuildSketch(Plane(origin=(52, 8, 6), x_dir=(0, 0, 1), z_dir=(1, 0, 0))):
        Polygon((0, 0), (2.5, 0), (0, 1.443375673), align=None)
    revolve(axis=Axis((52, 8, 6), (0, -1, 0)), mode=Mode.SUBTRACT)

    # Cut-Extrude28 cone 3 section (through the dimple's axis) → Cut-Extrude28 cone 3 (revolve, cut)
    with BuildSketch(Plane(origin=(52, 8, 14), x_dir=(0, 0, 1), z_dir=(1, 0, 0))):
        Polygon((0, 0), (2.5, 0), (0, 1.443375673), align=None)
    revolve(axis=Axis((52, 8, 14), (0, -1, 0)), mode=Mode.SUBTRACT)

    # Cut-Extrude28 cone 4 section (through the dimple's axis) → Cut-Extrude28 cone 4 (revolve, cut)
    with BuildSketch(Plane(origin=(45, 8, 14), x_dir=(0, 0, 1), z_dir=(1, 0, 0))):
        Polygon((0, 0), (2.5, 0), (0, 1.443375673), align=None)
    revolve(axis=Axis((45, 8, 14), (0, -1, 0)), mode=Mode.SUBTRACT)


solid = part.part
